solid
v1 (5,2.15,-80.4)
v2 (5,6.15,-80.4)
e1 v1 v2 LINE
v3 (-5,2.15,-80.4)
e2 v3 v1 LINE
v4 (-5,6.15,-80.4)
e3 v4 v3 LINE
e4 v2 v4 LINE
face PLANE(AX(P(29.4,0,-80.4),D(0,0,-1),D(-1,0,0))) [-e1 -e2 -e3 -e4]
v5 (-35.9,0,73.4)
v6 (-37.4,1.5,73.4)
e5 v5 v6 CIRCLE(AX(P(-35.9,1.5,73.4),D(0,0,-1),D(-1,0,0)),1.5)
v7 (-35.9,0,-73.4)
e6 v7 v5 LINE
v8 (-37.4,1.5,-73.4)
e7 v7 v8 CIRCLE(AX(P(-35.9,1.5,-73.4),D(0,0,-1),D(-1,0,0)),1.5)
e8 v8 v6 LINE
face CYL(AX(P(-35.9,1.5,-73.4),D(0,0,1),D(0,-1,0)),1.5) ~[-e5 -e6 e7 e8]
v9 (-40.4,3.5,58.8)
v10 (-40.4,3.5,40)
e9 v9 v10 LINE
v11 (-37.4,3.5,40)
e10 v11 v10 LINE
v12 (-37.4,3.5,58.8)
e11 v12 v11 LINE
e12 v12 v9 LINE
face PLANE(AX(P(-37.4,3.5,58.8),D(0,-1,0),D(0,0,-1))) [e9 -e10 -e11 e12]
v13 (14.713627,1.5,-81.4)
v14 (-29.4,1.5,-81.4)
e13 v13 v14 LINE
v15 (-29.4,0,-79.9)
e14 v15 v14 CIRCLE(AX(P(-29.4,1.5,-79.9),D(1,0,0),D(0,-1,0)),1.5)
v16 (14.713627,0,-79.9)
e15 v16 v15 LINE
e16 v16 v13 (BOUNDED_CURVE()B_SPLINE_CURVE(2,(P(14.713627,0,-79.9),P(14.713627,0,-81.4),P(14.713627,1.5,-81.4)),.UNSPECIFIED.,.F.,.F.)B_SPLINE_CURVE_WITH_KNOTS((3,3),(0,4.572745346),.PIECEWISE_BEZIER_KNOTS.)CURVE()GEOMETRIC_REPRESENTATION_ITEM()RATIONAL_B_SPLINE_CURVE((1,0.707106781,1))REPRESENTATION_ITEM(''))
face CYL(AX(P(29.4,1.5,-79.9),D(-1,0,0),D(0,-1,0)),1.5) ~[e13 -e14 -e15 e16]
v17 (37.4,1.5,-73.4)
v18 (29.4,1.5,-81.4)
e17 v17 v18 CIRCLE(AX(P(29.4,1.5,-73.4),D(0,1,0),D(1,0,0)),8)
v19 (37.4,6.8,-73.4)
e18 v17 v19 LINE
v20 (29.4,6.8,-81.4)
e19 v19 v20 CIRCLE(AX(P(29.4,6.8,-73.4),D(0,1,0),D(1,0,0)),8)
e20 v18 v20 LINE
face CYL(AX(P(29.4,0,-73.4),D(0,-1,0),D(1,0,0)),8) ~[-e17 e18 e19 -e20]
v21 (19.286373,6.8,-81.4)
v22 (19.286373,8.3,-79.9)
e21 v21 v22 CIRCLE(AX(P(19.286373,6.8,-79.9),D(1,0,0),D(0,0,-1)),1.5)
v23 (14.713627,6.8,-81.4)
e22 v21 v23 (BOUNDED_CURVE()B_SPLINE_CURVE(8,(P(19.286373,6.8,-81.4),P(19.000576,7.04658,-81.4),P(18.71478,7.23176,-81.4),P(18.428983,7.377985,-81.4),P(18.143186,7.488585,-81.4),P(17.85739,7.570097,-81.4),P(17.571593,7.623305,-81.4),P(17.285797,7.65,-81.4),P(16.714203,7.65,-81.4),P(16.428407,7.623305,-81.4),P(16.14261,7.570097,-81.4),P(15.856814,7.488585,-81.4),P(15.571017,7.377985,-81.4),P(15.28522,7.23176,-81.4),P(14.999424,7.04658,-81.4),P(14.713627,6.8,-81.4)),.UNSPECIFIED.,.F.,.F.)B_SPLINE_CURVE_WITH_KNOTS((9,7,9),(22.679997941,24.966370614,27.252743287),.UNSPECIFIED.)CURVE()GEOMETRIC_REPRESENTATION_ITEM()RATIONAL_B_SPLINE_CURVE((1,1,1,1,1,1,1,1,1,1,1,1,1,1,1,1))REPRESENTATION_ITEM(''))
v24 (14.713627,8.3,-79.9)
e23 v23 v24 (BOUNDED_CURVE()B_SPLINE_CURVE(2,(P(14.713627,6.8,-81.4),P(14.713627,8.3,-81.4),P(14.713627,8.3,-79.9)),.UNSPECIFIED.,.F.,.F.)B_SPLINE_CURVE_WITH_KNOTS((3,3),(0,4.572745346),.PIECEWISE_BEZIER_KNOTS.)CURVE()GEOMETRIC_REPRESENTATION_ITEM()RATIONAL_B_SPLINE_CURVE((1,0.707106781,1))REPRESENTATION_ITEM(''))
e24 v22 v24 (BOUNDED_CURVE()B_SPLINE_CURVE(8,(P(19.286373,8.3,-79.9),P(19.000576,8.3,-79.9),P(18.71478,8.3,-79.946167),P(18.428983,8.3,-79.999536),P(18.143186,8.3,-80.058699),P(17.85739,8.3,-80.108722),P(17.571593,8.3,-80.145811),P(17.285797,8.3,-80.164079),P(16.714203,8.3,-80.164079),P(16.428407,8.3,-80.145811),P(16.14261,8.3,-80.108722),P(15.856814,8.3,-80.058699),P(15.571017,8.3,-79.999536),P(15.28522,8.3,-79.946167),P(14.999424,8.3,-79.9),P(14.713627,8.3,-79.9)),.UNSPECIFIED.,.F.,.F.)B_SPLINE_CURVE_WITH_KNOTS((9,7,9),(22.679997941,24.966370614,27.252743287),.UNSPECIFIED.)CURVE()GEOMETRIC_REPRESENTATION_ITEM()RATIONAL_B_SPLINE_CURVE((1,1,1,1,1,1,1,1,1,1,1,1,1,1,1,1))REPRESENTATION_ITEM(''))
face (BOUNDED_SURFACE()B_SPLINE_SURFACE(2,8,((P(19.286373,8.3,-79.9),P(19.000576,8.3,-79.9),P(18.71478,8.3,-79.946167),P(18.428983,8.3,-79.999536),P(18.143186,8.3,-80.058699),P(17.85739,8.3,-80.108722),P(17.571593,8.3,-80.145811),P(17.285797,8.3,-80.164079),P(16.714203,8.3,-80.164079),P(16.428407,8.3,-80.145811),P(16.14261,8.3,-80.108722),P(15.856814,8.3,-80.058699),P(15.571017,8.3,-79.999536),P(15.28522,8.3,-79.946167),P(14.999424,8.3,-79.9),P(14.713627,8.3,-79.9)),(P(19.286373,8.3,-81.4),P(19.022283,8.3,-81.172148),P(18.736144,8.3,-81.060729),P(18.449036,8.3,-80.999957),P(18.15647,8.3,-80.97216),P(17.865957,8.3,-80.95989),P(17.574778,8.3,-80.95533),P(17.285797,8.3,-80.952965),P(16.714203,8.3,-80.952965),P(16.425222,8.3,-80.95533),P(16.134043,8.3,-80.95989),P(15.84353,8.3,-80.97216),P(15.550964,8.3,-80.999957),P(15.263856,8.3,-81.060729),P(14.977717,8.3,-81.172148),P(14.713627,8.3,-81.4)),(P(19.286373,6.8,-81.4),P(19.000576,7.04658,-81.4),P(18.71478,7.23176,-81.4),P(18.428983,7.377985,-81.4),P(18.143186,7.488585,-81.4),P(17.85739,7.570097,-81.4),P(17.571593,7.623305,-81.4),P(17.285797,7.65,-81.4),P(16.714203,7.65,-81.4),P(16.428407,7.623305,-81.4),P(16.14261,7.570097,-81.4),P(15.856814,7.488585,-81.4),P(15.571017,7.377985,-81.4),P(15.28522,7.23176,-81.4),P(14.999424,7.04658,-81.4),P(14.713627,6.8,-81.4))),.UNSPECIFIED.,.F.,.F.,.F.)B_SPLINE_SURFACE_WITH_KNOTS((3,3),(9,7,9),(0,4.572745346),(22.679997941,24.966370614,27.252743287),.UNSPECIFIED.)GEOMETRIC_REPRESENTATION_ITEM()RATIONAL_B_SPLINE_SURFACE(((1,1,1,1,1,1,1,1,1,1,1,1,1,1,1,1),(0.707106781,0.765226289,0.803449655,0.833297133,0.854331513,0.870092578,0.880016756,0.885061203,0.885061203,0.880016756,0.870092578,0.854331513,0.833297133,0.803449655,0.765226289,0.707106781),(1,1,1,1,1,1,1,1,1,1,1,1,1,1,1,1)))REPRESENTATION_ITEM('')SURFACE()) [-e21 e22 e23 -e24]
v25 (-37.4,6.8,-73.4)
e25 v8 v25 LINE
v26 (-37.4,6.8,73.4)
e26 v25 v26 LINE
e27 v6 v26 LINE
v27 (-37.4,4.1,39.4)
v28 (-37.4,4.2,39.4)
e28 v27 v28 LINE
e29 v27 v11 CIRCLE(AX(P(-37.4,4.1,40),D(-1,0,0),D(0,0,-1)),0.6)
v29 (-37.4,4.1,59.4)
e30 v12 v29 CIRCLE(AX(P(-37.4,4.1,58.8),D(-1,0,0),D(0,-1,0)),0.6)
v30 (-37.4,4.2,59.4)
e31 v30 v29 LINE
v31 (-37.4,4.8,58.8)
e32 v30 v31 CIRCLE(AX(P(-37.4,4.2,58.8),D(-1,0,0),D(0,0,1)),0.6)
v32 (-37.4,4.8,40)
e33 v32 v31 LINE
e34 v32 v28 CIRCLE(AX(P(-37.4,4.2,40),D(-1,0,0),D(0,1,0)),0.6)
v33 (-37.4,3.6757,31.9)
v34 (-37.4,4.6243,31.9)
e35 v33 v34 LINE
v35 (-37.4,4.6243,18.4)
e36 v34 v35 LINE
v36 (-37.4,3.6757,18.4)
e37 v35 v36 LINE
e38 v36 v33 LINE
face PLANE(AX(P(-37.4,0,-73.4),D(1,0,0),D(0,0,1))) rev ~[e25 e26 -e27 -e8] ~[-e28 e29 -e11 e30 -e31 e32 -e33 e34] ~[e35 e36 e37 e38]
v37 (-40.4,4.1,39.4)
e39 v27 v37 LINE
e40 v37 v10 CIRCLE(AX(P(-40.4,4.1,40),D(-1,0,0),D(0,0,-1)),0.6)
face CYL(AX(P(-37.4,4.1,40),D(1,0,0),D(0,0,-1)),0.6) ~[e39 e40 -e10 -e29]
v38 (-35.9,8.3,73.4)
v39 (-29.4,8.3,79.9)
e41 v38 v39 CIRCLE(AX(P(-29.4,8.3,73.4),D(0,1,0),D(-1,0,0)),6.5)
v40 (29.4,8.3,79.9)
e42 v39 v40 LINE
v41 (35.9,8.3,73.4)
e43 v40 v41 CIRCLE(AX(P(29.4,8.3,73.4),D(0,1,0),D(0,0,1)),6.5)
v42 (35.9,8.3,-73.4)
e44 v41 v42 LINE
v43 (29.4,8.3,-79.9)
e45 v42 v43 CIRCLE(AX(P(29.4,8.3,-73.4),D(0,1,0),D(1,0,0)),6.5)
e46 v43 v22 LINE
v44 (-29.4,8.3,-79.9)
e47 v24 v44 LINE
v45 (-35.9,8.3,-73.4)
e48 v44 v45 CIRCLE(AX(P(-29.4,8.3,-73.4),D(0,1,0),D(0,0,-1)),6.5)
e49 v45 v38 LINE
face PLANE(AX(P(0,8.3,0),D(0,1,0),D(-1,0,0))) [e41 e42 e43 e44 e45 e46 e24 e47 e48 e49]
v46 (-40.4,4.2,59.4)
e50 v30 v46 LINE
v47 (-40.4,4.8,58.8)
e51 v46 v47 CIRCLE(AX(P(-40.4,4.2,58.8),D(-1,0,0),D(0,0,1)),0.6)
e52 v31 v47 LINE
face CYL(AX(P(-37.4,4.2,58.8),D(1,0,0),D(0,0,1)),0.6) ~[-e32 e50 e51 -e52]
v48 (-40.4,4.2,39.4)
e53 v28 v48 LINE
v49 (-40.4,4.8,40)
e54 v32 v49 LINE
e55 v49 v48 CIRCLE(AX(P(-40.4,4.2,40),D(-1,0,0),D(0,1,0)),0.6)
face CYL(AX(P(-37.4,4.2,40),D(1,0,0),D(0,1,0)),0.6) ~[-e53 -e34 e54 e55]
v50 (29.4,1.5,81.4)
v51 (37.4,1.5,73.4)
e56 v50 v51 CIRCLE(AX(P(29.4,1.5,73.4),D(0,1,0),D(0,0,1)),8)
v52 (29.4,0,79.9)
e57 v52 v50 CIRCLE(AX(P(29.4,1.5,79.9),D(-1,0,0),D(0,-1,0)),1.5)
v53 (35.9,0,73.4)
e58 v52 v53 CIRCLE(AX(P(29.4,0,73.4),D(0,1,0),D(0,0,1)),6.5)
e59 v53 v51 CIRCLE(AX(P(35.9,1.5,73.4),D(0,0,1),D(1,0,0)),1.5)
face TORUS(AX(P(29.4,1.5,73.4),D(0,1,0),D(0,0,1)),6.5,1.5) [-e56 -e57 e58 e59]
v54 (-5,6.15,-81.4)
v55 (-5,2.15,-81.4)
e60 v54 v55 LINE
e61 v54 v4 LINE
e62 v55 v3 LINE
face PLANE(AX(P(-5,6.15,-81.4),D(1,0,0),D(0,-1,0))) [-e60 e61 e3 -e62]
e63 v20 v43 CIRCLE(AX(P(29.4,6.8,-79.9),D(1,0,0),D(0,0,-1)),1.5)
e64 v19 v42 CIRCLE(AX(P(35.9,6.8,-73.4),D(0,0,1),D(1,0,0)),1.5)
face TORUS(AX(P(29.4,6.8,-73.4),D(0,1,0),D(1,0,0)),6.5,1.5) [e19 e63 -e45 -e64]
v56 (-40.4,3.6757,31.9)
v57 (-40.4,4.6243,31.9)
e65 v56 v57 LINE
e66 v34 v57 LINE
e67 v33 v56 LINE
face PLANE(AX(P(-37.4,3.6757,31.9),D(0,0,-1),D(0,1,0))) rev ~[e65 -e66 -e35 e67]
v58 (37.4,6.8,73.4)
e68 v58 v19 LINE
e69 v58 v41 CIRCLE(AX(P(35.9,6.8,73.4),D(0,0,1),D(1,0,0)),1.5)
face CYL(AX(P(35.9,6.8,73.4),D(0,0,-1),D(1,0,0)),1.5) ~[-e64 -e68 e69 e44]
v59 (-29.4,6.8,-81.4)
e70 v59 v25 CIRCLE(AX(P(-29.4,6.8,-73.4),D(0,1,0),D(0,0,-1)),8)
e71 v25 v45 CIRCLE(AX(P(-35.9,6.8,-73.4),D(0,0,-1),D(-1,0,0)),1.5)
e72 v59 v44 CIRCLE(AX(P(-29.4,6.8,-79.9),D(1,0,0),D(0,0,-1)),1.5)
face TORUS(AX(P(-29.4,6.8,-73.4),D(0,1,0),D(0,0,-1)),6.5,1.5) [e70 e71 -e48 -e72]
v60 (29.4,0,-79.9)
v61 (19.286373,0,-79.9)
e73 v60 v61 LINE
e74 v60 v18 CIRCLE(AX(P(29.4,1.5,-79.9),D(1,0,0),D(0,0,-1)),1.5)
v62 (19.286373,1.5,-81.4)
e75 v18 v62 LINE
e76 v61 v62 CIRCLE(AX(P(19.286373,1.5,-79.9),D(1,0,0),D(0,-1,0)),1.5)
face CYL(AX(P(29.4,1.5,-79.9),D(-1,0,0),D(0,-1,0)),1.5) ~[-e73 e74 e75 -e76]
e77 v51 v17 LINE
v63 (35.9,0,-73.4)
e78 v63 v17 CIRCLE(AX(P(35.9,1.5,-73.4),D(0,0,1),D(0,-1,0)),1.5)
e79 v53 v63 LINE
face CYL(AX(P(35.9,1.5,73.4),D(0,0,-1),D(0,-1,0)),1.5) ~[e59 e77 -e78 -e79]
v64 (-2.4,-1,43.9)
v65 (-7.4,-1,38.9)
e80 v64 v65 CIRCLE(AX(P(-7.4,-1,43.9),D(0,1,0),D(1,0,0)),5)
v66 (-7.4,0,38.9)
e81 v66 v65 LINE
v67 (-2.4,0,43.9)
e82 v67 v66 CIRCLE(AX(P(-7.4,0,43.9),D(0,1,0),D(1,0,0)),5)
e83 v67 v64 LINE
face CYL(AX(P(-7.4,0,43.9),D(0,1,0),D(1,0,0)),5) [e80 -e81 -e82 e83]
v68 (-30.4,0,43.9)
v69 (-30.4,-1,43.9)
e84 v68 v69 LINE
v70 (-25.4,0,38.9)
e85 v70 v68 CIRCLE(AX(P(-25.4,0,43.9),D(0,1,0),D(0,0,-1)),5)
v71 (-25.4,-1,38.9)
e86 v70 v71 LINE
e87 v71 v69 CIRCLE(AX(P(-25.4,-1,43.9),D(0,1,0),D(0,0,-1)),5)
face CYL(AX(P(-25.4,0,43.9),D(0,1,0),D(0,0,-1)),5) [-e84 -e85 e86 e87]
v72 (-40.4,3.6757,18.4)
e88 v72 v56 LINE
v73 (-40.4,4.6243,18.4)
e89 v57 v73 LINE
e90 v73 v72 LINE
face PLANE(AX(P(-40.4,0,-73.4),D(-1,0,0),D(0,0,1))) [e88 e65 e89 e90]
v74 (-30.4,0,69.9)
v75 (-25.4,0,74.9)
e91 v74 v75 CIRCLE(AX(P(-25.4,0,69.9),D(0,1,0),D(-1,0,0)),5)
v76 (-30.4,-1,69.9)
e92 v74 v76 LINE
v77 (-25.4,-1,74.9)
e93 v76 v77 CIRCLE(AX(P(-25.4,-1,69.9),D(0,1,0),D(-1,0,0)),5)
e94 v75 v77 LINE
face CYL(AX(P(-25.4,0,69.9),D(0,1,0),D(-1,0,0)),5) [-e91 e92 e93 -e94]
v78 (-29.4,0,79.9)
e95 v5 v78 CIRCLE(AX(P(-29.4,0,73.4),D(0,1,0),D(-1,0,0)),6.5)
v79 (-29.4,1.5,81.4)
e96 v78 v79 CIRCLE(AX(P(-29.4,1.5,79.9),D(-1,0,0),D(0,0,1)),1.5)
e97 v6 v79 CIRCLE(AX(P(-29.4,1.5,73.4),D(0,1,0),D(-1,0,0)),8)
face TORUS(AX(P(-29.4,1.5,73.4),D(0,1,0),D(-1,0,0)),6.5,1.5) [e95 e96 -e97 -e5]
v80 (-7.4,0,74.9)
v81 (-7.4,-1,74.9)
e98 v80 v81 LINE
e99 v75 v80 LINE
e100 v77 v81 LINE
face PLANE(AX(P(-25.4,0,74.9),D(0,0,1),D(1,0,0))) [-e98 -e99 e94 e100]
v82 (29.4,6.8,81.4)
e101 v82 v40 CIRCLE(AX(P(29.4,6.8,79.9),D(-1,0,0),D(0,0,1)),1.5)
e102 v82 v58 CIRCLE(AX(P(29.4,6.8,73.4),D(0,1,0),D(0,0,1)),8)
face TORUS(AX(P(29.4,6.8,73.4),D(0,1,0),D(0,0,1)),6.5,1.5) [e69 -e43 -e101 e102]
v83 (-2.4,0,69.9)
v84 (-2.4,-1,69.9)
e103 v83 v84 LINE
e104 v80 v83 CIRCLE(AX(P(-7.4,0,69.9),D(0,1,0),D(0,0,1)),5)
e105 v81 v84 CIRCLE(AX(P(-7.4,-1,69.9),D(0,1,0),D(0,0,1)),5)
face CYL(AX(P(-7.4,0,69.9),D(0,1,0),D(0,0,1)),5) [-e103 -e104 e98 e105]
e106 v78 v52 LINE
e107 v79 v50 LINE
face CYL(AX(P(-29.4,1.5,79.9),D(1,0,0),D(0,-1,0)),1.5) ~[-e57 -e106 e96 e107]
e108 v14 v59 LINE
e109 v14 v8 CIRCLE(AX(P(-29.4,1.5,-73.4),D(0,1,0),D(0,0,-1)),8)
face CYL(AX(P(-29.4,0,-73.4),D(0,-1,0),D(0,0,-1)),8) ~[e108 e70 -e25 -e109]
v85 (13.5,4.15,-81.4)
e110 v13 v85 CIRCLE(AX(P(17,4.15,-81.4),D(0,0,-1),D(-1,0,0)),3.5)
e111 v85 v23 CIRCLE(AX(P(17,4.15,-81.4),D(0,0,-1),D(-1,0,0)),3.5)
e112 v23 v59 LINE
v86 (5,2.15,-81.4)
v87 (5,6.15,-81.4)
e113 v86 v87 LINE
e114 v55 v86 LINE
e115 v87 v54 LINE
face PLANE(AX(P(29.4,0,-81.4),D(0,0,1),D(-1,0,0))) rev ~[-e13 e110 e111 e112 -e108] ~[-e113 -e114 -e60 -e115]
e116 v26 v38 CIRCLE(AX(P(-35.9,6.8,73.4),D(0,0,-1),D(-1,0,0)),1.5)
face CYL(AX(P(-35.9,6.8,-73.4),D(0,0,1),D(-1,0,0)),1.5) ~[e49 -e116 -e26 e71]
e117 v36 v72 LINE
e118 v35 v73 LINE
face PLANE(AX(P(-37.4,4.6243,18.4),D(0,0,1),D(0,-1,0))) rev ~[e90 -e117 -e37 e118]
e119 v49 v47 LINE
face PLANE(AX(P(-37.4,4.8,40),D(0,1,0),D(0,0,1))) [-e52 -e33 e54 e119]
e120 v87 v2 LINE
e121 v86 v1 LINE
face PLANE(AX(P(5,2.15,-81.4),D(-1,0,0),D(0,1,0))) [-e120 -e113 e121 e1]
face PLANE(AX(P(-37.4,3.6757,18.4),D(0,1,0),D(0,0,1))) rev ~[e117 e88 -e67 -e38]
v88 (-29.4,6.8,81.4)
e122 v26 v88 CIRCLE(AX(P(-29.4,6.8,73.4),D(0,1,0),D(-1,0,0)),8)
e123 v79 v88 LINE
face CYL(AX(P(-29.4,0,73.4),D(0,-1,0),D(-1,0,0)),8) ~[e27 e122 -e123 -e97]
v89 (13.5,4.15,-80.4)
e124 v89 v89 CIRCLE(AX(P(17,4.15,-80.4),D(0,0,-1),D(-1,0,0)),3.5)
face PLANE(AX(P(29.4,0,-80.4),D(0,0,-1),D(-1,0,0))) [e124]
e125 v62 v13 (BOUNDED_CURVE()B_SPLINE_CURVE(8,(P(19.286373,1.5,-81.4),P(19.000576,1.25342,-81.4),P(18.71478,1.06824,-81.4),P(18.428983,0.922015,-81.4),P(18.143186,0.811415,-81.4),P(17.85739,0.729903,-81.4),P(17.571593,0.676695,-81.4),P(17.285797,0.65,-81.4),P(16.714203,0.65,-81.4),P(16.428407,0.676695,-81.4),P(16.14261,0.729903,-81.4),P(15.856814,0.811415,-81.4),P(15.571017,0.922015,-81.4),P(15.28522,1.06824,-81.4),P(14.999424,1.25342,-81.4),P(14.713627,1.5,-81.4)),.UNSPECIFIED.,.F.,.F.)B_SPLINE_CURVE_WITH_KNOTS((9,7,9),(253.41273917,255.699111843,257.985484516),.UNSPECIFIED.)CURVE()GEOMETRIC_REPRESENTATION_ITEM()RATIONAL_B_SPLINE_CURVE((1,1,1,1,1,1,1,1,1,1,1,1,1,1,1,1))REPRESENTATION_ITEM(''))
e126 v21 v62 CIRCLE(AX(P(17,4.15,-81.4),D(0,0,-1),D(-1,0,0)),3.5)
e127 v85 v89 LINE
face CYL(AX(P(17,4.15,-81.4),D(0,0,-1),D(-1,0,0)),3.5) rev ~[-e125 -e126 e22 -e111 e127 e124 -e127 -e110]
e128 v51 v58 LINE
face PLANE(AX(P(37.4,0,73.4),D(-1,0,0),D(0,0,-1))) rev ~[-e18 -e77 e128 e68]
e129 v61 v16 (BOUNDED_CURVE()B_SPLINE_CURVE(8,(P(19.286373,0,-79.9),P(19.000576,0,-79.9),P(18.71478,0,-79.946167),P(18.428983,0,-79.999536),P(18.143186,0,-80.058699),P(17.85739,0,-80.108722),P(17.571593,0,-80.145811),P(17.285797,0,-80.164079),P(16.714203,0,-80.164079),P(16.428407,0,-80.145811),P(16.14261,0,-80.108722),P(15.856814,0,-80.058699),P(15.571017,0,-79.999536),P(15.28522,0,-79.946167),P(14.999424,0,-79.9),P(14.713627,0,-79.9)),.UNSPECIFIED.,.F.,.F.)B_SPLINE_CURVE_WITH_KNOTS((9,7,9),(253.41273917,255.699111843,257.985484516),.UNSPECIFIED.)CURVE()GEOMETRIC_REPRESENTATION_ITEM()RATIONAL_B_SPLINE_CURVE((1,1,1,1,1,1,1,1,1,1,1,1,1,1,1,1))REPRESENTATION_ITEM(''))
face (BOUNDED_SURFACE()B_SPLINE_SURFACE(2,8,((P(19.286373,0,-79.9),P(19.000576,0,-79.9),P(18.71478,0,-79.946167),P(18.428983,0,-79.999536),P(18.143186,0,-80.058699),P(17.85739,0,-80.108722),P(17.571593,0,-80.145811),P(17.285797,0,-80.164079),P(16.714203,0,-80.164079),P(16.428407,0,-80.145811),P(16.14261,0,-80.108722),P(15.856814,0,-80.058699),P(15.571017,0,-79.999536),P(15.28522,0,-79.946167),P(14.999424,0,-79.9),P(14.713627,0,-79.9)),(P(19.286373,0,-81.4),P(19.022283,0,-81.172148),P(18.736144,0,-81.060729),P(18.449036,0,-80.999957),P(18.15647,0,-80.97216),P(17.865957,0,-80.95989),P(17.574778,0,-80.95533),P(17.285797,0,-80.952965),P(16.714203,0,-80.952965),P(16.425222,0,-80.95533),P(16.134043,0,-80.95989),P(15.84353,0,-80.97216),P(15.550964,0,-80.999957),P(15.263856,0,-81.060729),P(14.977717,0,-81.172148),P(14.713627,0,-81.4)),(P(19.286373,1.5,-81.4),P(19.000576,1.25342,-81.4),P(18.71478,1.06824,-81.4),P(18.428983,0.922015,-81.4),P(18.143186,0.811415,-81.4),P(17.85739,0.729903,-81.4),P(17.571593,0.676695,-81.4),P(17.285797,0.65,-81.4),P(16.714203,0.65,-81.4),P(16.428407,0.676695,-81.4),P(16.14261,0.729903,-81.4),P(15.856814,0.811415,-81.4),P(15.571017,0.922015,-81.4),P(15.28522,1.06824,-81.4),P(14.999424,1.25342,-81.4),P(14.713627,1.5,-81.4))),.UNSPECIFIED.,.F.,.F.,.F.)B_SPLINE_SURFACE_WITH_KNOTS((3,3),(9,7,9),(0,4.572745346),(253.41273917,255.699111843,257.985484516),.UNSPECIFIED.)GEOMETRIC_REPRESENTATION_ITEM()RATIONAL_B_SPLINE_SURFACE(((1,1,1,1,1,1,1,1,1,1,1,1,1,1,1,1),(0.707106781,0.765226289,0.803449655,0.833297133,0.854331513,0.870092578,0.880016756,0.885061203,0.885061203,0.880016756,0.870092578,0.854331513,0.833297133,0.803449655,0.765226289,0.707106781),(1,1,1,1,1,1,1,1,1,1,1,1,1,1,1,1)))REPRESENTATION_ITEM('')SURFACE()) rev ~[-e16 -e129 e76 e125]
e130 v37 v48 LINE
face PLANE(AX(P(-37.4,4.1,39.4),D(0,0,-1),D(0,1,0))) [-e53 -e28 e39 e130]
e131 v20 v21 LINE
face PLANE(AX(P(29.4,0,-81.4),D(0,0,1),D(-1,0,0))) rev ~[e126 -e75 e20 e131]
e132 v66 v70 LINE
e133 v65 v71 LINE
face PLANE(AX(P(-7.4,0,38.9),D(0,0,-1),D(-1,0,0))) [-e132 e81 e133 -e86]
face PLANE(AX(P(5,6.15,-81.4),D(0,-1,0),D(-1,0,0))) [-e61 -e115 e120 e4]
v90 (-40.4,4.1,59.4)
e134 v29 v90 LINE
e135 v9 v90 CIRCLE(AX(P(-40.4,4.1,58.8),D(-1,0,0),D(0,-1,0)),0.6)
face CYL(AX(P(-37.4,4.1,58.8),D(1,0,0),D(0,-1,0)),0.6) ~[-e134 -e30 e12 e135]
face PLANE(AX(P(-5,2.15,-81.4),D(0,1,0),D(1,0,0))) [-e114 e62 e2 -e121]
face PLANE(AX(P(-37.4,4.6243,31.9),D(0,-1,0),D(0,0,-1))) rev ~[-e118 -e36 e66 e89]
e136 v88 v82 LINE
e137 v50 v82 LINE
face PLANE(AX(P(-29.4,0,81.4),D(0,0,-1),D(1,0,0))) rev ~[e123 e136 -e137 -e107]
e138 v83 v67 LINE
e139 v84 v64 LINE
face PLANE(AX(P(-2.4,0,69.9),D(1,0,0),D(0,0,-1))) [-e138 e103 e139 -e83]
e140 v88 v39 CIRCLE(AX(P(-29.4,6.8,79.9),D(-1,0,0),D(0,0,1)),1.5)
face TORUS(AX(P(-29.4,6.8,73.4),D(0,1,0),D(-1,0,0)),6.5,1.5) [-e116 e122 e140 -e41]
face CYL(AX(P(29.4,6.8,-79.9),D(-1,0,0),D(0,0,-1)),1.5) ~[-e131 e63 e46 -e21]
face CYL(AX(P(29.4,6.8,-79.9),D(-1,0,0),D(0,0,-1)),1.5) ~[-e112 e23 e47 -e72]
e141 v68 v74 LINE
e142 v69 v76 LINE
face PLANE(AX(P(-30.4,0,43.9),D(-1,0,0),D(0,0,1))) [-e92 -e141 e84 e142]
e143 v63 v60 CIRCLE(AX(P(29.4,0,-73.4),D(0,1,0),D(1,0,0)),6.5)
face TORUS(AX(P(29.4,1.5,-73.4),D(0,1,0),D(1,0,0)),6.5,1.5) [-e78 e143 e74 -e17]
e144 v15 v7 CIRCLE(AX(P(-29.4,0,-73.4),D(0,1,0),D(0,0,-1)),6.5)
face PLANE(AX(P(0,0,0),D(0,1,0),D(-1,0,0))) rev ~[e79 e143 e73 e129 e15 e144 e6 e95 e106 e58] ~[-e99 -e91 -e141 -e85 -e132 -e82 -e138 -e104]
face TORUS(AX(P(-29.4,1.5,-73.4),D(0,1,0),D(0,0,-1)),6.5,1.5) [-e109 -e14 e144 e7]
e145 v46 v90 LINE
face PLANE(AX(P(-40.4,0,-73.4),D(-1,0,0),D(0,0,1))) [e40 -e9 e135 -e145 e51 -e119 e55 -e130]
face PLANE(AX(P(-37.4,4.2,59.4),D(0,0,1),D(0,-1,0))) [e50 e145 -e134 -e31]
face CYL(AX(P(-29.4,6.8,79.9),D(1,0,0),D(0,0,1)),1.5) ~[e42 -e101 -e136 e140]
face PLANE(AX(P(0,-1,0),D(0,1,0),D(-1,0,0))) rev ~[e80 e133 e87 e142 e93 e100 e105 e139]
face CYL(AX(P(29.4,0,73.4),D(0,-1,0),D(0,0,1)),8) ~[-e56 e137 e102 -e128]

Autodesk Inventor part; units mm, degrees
ref_plane "YZ Plane" through (0, 0, 0) normal (1, 0, 0) x (0, 1, 0)
ref_plane "XY Plane" through (0, 0, 0) normal (0, 0, 1) x (1, 0, 0)
sketch "BASEsc" plane through (0, 0, 0) normal (0, 1, 0) x (-1, 0, 0)
  line L0 (-29.4, -81.4) -> (29.4, -81.4)
  line L1 (37.4, -73.4) -> (37.4, 73.4)
  line L2 (29.4, 81.4) -> (-29.4, 81.4)
  line L3 (-37.4, 73.4) -> (-37.4, -73.4)
  line L4 (-37.4, -81.4) -> (37.4, 81.4) construction
  line L5 (37.4, -81.4) -> (-37.4, 81.4) construction
  arc A0 (37.4, 73.4) -> (29.4, 81.4) centre (29.4, 73.4) ccw
  arc A1 (-29.4, 81.4) -> (-37.4, 73.4) centre (-29.4, 73.4) ccw
  arc A2 (-37.4, -73.4) -> (-29.4, -81.4) centre (-29.4, -73.4) ccw
  arc A3 (29.4, -81.4) -> (37.4, -73.4) centre (29.4, -73.4) ccw
  line L6 (25.4, 74.9) -> (7.4, 74.9)
  line L7 (2.4, 69.9) -> (2.4, 43.9)
  line L8 (7.4, 38.9) -> (25.4, 38.9)
  line L9 (30.4, 43.9) -> (30.4, 69.9)
  line L10 (30.4, 74.9) -> (2.4, 38.9) construction
  line L11 (2.4, 74.9) -> (30.4, 38.9) construction
  arc A4 (30.4, 69.9) -> (25.4, 74.9) centre (25.4, 69.9) ccw
  arc A5 (7.4, 74.9) -> (2.4, 69.9) centre (7.4, 69.9) ccw
  arc A6 (25.4, 38.9) -> (30.4, 43.9) centre (25.4, 43.9) ccw
  arc A7 (2.4, 43.9) -> (7.4, 38.9) centre (7.4, 43.9) ccw
  point P0 (0, 0)
  point P1 (16.4, 56.9)
  dimension "d0" = 74.8
  dimension "d1" = 162.8
  dimension "d2" = 8
  dimension "d3" = 8
  dimension "d4" = 8
  dimension "d7" = 28
  dimension "d8" = 36
  dimension "d9" = 5
  dimension "d26" = 42.5
  dimension "d27" = 35
extrude "押し出し1" add sketch "BASEsc" along normal blind 8.3 contours A2 L3 A1 L2 A0 L1 A3 L0 | A4 L9 A6 L8 A7 L7 A5 L6
extrude "押し出し2" add sketch "BASEsc" against normal blind 1 contours A4 L9 A6 L8 A7 L7 A5 L6
sketch "スケッチ2" plane through (-37.4, 0, -73.4) normal (-1, 0, 0) x (0, 0, 1)
  line L0 (143.2215, 4.15) -> (137.7549, 4.15) construction
  line L1 (0, 8.3) -> (146.8, 8.3) projected
  line L2 (132.2, 3.5) -> (113.4, 3.5)
  line L3 (112.8, 4.1) -> (112.8, 4.2)
  line L4 (113.4, 4.8) -> (132.2, 4.8)
  line L5 (132.8, 4.2) -> (132.8, 4.1)
  line L6 (132.8, 3.5) -> (112.8, 4.8) construction
  line L7 (112.8, 3.5) -> (132.8, 4.8) construction
  arc A0 (132.8, 4.2) -> (132.2, 4.8) centre (132.2, 4.2) ccw
  arc A1 (132.2, 3.5) -> (132.8, 4.1) centre (132.2, 4.1) ccw
  arc A2 (112.8, 4.1) -> (113.4, 3.5) centre (113.4, 4.1) ccw
  arc A3 (113.4, 4.8) -> (112.8, 4.2) centre (113.4, 4.2) ccw
  line L8 (154.8, 0) -> (154.8, 8.3) projected
  line L9 (105.3, 4.6243) -> (91.8, 4.6243)
  line L10 (91.8, 4.6243) -> (91.8, 3.6757)
  line L11 (91.8, 3.6757) -> (105.3, 3.6757)
  line L12 (105.3, 3.6757) -> (105.3, 4.6243)
  line L13 (105.3, 4.6243) -> (91.8, 3.6757) construction
  line L14 (91.8, 4.6243) -> (105.3, 3.6757) construction
  point P0 (73.4, 0)
  point P1 (140.4882, 4.15)
  point P2 (122.8, 4.15)
  point P3 (112.8, 4.15)
  point P4 (98.55, 4.15)
  point P5 (105.3, 4.15)
  dimension "d12" = 4.15
  dimension "d13" = 20
  dimension "d14" = 1.3
  dimension "d15" = 0.6
  dimension "d16" = 0.6
  dimension "d17" = 42
  dimension "d18" = 7.5
  dimension "d19" = 13.5
extrude "押し出し3" add sketch "スケッチ2" along normal blind 3
sketch "スケッチ3" plane through (29.4, 0, -81.4) normal (0, 0, -1) x (-1, 0, 0)
  line L0 (-8, 0) -> (-8, 8.3) projected
  line L1 (66.8, 0) -> (66.8, 8.3) projected
  line L2 (-8, 8.3) -> (66.8, 0) construction
  line L3 (66.8, 0) -> (66.8, 8.3)
  line L4 (0, 0) -> (-8, 0) projected
  line L5 (66.8, 8.3) -> (-8, 0) construction
  line L6 (24.4, 6.15) -> (34.4, 6.15)
  line L7 (34.4, 6.15) -> (34.4, 2.15)
  line L8 (34.4, 2.15) -> (24.4, 2.15)
  line L9 (24.4, 2.15) -> (24.4, 6.15)
  line L10 (24.4, 6.15) -> (34.4, 2.15) construction
  line L11 (34.4, 6.15) -> (24.4, 2.15) construction
  circle A0 centre (12.4, 4.15) radius 3.5
  point P0 (29.4, 0)
  point P1 (29.4, 4.15)
  point P2 (29.4, 4.15)
  dimension "d22" = 10
  dimension "d23" = 4
  dimension "d24" = 7
  dimension "d25" = 17
extrude "押し出し4" cut sketch "スケッチ3" against normal blind 1
fillet "フィレット1" radius 1.5 8 edges at (35.0569, 8.3, -79.0569) (0, 8.3, -81.4) (-35.0569, 8.3, -79.0569) (-37.4, 8.3, 0) (-35.0569, 8.3, 79.0569) (0, 8.3, 81.4) (35.0569, 8.3, 79.0569) (37.4, 8.3, 0)
fillet "フィレット2" radius 1.5 8 edges at (-35.0569, 0, 79.0569) (0, 0, 81.4) (35.0569, 0, 79.0569) (37.4, 0, 0) (35.0569, 0, -79.0569) (0, 0, -81.4) (-35.0569, 0, -79.0569) (-37.4, 0, 0)
equation "\"BendRadius\" = Thickness"
equation "\"BendReliefWidth\" = Thickness"
equation "\"BendReliefDepth\" = 0.5 * Thickness"
equation "\"CornerReliefSize\" = 4 * Thickness"
equation "\"MinimumRemnant\" = 2 * Thickness"
equation "\"TransitionRadius\" = BendRadius"
equation "\"JacobiRadiusSize\" = BendRadius"
equation "\"GapSize\" = Thickness"
equation "\"Thickness\" = 0.5"
properties part number "template"
